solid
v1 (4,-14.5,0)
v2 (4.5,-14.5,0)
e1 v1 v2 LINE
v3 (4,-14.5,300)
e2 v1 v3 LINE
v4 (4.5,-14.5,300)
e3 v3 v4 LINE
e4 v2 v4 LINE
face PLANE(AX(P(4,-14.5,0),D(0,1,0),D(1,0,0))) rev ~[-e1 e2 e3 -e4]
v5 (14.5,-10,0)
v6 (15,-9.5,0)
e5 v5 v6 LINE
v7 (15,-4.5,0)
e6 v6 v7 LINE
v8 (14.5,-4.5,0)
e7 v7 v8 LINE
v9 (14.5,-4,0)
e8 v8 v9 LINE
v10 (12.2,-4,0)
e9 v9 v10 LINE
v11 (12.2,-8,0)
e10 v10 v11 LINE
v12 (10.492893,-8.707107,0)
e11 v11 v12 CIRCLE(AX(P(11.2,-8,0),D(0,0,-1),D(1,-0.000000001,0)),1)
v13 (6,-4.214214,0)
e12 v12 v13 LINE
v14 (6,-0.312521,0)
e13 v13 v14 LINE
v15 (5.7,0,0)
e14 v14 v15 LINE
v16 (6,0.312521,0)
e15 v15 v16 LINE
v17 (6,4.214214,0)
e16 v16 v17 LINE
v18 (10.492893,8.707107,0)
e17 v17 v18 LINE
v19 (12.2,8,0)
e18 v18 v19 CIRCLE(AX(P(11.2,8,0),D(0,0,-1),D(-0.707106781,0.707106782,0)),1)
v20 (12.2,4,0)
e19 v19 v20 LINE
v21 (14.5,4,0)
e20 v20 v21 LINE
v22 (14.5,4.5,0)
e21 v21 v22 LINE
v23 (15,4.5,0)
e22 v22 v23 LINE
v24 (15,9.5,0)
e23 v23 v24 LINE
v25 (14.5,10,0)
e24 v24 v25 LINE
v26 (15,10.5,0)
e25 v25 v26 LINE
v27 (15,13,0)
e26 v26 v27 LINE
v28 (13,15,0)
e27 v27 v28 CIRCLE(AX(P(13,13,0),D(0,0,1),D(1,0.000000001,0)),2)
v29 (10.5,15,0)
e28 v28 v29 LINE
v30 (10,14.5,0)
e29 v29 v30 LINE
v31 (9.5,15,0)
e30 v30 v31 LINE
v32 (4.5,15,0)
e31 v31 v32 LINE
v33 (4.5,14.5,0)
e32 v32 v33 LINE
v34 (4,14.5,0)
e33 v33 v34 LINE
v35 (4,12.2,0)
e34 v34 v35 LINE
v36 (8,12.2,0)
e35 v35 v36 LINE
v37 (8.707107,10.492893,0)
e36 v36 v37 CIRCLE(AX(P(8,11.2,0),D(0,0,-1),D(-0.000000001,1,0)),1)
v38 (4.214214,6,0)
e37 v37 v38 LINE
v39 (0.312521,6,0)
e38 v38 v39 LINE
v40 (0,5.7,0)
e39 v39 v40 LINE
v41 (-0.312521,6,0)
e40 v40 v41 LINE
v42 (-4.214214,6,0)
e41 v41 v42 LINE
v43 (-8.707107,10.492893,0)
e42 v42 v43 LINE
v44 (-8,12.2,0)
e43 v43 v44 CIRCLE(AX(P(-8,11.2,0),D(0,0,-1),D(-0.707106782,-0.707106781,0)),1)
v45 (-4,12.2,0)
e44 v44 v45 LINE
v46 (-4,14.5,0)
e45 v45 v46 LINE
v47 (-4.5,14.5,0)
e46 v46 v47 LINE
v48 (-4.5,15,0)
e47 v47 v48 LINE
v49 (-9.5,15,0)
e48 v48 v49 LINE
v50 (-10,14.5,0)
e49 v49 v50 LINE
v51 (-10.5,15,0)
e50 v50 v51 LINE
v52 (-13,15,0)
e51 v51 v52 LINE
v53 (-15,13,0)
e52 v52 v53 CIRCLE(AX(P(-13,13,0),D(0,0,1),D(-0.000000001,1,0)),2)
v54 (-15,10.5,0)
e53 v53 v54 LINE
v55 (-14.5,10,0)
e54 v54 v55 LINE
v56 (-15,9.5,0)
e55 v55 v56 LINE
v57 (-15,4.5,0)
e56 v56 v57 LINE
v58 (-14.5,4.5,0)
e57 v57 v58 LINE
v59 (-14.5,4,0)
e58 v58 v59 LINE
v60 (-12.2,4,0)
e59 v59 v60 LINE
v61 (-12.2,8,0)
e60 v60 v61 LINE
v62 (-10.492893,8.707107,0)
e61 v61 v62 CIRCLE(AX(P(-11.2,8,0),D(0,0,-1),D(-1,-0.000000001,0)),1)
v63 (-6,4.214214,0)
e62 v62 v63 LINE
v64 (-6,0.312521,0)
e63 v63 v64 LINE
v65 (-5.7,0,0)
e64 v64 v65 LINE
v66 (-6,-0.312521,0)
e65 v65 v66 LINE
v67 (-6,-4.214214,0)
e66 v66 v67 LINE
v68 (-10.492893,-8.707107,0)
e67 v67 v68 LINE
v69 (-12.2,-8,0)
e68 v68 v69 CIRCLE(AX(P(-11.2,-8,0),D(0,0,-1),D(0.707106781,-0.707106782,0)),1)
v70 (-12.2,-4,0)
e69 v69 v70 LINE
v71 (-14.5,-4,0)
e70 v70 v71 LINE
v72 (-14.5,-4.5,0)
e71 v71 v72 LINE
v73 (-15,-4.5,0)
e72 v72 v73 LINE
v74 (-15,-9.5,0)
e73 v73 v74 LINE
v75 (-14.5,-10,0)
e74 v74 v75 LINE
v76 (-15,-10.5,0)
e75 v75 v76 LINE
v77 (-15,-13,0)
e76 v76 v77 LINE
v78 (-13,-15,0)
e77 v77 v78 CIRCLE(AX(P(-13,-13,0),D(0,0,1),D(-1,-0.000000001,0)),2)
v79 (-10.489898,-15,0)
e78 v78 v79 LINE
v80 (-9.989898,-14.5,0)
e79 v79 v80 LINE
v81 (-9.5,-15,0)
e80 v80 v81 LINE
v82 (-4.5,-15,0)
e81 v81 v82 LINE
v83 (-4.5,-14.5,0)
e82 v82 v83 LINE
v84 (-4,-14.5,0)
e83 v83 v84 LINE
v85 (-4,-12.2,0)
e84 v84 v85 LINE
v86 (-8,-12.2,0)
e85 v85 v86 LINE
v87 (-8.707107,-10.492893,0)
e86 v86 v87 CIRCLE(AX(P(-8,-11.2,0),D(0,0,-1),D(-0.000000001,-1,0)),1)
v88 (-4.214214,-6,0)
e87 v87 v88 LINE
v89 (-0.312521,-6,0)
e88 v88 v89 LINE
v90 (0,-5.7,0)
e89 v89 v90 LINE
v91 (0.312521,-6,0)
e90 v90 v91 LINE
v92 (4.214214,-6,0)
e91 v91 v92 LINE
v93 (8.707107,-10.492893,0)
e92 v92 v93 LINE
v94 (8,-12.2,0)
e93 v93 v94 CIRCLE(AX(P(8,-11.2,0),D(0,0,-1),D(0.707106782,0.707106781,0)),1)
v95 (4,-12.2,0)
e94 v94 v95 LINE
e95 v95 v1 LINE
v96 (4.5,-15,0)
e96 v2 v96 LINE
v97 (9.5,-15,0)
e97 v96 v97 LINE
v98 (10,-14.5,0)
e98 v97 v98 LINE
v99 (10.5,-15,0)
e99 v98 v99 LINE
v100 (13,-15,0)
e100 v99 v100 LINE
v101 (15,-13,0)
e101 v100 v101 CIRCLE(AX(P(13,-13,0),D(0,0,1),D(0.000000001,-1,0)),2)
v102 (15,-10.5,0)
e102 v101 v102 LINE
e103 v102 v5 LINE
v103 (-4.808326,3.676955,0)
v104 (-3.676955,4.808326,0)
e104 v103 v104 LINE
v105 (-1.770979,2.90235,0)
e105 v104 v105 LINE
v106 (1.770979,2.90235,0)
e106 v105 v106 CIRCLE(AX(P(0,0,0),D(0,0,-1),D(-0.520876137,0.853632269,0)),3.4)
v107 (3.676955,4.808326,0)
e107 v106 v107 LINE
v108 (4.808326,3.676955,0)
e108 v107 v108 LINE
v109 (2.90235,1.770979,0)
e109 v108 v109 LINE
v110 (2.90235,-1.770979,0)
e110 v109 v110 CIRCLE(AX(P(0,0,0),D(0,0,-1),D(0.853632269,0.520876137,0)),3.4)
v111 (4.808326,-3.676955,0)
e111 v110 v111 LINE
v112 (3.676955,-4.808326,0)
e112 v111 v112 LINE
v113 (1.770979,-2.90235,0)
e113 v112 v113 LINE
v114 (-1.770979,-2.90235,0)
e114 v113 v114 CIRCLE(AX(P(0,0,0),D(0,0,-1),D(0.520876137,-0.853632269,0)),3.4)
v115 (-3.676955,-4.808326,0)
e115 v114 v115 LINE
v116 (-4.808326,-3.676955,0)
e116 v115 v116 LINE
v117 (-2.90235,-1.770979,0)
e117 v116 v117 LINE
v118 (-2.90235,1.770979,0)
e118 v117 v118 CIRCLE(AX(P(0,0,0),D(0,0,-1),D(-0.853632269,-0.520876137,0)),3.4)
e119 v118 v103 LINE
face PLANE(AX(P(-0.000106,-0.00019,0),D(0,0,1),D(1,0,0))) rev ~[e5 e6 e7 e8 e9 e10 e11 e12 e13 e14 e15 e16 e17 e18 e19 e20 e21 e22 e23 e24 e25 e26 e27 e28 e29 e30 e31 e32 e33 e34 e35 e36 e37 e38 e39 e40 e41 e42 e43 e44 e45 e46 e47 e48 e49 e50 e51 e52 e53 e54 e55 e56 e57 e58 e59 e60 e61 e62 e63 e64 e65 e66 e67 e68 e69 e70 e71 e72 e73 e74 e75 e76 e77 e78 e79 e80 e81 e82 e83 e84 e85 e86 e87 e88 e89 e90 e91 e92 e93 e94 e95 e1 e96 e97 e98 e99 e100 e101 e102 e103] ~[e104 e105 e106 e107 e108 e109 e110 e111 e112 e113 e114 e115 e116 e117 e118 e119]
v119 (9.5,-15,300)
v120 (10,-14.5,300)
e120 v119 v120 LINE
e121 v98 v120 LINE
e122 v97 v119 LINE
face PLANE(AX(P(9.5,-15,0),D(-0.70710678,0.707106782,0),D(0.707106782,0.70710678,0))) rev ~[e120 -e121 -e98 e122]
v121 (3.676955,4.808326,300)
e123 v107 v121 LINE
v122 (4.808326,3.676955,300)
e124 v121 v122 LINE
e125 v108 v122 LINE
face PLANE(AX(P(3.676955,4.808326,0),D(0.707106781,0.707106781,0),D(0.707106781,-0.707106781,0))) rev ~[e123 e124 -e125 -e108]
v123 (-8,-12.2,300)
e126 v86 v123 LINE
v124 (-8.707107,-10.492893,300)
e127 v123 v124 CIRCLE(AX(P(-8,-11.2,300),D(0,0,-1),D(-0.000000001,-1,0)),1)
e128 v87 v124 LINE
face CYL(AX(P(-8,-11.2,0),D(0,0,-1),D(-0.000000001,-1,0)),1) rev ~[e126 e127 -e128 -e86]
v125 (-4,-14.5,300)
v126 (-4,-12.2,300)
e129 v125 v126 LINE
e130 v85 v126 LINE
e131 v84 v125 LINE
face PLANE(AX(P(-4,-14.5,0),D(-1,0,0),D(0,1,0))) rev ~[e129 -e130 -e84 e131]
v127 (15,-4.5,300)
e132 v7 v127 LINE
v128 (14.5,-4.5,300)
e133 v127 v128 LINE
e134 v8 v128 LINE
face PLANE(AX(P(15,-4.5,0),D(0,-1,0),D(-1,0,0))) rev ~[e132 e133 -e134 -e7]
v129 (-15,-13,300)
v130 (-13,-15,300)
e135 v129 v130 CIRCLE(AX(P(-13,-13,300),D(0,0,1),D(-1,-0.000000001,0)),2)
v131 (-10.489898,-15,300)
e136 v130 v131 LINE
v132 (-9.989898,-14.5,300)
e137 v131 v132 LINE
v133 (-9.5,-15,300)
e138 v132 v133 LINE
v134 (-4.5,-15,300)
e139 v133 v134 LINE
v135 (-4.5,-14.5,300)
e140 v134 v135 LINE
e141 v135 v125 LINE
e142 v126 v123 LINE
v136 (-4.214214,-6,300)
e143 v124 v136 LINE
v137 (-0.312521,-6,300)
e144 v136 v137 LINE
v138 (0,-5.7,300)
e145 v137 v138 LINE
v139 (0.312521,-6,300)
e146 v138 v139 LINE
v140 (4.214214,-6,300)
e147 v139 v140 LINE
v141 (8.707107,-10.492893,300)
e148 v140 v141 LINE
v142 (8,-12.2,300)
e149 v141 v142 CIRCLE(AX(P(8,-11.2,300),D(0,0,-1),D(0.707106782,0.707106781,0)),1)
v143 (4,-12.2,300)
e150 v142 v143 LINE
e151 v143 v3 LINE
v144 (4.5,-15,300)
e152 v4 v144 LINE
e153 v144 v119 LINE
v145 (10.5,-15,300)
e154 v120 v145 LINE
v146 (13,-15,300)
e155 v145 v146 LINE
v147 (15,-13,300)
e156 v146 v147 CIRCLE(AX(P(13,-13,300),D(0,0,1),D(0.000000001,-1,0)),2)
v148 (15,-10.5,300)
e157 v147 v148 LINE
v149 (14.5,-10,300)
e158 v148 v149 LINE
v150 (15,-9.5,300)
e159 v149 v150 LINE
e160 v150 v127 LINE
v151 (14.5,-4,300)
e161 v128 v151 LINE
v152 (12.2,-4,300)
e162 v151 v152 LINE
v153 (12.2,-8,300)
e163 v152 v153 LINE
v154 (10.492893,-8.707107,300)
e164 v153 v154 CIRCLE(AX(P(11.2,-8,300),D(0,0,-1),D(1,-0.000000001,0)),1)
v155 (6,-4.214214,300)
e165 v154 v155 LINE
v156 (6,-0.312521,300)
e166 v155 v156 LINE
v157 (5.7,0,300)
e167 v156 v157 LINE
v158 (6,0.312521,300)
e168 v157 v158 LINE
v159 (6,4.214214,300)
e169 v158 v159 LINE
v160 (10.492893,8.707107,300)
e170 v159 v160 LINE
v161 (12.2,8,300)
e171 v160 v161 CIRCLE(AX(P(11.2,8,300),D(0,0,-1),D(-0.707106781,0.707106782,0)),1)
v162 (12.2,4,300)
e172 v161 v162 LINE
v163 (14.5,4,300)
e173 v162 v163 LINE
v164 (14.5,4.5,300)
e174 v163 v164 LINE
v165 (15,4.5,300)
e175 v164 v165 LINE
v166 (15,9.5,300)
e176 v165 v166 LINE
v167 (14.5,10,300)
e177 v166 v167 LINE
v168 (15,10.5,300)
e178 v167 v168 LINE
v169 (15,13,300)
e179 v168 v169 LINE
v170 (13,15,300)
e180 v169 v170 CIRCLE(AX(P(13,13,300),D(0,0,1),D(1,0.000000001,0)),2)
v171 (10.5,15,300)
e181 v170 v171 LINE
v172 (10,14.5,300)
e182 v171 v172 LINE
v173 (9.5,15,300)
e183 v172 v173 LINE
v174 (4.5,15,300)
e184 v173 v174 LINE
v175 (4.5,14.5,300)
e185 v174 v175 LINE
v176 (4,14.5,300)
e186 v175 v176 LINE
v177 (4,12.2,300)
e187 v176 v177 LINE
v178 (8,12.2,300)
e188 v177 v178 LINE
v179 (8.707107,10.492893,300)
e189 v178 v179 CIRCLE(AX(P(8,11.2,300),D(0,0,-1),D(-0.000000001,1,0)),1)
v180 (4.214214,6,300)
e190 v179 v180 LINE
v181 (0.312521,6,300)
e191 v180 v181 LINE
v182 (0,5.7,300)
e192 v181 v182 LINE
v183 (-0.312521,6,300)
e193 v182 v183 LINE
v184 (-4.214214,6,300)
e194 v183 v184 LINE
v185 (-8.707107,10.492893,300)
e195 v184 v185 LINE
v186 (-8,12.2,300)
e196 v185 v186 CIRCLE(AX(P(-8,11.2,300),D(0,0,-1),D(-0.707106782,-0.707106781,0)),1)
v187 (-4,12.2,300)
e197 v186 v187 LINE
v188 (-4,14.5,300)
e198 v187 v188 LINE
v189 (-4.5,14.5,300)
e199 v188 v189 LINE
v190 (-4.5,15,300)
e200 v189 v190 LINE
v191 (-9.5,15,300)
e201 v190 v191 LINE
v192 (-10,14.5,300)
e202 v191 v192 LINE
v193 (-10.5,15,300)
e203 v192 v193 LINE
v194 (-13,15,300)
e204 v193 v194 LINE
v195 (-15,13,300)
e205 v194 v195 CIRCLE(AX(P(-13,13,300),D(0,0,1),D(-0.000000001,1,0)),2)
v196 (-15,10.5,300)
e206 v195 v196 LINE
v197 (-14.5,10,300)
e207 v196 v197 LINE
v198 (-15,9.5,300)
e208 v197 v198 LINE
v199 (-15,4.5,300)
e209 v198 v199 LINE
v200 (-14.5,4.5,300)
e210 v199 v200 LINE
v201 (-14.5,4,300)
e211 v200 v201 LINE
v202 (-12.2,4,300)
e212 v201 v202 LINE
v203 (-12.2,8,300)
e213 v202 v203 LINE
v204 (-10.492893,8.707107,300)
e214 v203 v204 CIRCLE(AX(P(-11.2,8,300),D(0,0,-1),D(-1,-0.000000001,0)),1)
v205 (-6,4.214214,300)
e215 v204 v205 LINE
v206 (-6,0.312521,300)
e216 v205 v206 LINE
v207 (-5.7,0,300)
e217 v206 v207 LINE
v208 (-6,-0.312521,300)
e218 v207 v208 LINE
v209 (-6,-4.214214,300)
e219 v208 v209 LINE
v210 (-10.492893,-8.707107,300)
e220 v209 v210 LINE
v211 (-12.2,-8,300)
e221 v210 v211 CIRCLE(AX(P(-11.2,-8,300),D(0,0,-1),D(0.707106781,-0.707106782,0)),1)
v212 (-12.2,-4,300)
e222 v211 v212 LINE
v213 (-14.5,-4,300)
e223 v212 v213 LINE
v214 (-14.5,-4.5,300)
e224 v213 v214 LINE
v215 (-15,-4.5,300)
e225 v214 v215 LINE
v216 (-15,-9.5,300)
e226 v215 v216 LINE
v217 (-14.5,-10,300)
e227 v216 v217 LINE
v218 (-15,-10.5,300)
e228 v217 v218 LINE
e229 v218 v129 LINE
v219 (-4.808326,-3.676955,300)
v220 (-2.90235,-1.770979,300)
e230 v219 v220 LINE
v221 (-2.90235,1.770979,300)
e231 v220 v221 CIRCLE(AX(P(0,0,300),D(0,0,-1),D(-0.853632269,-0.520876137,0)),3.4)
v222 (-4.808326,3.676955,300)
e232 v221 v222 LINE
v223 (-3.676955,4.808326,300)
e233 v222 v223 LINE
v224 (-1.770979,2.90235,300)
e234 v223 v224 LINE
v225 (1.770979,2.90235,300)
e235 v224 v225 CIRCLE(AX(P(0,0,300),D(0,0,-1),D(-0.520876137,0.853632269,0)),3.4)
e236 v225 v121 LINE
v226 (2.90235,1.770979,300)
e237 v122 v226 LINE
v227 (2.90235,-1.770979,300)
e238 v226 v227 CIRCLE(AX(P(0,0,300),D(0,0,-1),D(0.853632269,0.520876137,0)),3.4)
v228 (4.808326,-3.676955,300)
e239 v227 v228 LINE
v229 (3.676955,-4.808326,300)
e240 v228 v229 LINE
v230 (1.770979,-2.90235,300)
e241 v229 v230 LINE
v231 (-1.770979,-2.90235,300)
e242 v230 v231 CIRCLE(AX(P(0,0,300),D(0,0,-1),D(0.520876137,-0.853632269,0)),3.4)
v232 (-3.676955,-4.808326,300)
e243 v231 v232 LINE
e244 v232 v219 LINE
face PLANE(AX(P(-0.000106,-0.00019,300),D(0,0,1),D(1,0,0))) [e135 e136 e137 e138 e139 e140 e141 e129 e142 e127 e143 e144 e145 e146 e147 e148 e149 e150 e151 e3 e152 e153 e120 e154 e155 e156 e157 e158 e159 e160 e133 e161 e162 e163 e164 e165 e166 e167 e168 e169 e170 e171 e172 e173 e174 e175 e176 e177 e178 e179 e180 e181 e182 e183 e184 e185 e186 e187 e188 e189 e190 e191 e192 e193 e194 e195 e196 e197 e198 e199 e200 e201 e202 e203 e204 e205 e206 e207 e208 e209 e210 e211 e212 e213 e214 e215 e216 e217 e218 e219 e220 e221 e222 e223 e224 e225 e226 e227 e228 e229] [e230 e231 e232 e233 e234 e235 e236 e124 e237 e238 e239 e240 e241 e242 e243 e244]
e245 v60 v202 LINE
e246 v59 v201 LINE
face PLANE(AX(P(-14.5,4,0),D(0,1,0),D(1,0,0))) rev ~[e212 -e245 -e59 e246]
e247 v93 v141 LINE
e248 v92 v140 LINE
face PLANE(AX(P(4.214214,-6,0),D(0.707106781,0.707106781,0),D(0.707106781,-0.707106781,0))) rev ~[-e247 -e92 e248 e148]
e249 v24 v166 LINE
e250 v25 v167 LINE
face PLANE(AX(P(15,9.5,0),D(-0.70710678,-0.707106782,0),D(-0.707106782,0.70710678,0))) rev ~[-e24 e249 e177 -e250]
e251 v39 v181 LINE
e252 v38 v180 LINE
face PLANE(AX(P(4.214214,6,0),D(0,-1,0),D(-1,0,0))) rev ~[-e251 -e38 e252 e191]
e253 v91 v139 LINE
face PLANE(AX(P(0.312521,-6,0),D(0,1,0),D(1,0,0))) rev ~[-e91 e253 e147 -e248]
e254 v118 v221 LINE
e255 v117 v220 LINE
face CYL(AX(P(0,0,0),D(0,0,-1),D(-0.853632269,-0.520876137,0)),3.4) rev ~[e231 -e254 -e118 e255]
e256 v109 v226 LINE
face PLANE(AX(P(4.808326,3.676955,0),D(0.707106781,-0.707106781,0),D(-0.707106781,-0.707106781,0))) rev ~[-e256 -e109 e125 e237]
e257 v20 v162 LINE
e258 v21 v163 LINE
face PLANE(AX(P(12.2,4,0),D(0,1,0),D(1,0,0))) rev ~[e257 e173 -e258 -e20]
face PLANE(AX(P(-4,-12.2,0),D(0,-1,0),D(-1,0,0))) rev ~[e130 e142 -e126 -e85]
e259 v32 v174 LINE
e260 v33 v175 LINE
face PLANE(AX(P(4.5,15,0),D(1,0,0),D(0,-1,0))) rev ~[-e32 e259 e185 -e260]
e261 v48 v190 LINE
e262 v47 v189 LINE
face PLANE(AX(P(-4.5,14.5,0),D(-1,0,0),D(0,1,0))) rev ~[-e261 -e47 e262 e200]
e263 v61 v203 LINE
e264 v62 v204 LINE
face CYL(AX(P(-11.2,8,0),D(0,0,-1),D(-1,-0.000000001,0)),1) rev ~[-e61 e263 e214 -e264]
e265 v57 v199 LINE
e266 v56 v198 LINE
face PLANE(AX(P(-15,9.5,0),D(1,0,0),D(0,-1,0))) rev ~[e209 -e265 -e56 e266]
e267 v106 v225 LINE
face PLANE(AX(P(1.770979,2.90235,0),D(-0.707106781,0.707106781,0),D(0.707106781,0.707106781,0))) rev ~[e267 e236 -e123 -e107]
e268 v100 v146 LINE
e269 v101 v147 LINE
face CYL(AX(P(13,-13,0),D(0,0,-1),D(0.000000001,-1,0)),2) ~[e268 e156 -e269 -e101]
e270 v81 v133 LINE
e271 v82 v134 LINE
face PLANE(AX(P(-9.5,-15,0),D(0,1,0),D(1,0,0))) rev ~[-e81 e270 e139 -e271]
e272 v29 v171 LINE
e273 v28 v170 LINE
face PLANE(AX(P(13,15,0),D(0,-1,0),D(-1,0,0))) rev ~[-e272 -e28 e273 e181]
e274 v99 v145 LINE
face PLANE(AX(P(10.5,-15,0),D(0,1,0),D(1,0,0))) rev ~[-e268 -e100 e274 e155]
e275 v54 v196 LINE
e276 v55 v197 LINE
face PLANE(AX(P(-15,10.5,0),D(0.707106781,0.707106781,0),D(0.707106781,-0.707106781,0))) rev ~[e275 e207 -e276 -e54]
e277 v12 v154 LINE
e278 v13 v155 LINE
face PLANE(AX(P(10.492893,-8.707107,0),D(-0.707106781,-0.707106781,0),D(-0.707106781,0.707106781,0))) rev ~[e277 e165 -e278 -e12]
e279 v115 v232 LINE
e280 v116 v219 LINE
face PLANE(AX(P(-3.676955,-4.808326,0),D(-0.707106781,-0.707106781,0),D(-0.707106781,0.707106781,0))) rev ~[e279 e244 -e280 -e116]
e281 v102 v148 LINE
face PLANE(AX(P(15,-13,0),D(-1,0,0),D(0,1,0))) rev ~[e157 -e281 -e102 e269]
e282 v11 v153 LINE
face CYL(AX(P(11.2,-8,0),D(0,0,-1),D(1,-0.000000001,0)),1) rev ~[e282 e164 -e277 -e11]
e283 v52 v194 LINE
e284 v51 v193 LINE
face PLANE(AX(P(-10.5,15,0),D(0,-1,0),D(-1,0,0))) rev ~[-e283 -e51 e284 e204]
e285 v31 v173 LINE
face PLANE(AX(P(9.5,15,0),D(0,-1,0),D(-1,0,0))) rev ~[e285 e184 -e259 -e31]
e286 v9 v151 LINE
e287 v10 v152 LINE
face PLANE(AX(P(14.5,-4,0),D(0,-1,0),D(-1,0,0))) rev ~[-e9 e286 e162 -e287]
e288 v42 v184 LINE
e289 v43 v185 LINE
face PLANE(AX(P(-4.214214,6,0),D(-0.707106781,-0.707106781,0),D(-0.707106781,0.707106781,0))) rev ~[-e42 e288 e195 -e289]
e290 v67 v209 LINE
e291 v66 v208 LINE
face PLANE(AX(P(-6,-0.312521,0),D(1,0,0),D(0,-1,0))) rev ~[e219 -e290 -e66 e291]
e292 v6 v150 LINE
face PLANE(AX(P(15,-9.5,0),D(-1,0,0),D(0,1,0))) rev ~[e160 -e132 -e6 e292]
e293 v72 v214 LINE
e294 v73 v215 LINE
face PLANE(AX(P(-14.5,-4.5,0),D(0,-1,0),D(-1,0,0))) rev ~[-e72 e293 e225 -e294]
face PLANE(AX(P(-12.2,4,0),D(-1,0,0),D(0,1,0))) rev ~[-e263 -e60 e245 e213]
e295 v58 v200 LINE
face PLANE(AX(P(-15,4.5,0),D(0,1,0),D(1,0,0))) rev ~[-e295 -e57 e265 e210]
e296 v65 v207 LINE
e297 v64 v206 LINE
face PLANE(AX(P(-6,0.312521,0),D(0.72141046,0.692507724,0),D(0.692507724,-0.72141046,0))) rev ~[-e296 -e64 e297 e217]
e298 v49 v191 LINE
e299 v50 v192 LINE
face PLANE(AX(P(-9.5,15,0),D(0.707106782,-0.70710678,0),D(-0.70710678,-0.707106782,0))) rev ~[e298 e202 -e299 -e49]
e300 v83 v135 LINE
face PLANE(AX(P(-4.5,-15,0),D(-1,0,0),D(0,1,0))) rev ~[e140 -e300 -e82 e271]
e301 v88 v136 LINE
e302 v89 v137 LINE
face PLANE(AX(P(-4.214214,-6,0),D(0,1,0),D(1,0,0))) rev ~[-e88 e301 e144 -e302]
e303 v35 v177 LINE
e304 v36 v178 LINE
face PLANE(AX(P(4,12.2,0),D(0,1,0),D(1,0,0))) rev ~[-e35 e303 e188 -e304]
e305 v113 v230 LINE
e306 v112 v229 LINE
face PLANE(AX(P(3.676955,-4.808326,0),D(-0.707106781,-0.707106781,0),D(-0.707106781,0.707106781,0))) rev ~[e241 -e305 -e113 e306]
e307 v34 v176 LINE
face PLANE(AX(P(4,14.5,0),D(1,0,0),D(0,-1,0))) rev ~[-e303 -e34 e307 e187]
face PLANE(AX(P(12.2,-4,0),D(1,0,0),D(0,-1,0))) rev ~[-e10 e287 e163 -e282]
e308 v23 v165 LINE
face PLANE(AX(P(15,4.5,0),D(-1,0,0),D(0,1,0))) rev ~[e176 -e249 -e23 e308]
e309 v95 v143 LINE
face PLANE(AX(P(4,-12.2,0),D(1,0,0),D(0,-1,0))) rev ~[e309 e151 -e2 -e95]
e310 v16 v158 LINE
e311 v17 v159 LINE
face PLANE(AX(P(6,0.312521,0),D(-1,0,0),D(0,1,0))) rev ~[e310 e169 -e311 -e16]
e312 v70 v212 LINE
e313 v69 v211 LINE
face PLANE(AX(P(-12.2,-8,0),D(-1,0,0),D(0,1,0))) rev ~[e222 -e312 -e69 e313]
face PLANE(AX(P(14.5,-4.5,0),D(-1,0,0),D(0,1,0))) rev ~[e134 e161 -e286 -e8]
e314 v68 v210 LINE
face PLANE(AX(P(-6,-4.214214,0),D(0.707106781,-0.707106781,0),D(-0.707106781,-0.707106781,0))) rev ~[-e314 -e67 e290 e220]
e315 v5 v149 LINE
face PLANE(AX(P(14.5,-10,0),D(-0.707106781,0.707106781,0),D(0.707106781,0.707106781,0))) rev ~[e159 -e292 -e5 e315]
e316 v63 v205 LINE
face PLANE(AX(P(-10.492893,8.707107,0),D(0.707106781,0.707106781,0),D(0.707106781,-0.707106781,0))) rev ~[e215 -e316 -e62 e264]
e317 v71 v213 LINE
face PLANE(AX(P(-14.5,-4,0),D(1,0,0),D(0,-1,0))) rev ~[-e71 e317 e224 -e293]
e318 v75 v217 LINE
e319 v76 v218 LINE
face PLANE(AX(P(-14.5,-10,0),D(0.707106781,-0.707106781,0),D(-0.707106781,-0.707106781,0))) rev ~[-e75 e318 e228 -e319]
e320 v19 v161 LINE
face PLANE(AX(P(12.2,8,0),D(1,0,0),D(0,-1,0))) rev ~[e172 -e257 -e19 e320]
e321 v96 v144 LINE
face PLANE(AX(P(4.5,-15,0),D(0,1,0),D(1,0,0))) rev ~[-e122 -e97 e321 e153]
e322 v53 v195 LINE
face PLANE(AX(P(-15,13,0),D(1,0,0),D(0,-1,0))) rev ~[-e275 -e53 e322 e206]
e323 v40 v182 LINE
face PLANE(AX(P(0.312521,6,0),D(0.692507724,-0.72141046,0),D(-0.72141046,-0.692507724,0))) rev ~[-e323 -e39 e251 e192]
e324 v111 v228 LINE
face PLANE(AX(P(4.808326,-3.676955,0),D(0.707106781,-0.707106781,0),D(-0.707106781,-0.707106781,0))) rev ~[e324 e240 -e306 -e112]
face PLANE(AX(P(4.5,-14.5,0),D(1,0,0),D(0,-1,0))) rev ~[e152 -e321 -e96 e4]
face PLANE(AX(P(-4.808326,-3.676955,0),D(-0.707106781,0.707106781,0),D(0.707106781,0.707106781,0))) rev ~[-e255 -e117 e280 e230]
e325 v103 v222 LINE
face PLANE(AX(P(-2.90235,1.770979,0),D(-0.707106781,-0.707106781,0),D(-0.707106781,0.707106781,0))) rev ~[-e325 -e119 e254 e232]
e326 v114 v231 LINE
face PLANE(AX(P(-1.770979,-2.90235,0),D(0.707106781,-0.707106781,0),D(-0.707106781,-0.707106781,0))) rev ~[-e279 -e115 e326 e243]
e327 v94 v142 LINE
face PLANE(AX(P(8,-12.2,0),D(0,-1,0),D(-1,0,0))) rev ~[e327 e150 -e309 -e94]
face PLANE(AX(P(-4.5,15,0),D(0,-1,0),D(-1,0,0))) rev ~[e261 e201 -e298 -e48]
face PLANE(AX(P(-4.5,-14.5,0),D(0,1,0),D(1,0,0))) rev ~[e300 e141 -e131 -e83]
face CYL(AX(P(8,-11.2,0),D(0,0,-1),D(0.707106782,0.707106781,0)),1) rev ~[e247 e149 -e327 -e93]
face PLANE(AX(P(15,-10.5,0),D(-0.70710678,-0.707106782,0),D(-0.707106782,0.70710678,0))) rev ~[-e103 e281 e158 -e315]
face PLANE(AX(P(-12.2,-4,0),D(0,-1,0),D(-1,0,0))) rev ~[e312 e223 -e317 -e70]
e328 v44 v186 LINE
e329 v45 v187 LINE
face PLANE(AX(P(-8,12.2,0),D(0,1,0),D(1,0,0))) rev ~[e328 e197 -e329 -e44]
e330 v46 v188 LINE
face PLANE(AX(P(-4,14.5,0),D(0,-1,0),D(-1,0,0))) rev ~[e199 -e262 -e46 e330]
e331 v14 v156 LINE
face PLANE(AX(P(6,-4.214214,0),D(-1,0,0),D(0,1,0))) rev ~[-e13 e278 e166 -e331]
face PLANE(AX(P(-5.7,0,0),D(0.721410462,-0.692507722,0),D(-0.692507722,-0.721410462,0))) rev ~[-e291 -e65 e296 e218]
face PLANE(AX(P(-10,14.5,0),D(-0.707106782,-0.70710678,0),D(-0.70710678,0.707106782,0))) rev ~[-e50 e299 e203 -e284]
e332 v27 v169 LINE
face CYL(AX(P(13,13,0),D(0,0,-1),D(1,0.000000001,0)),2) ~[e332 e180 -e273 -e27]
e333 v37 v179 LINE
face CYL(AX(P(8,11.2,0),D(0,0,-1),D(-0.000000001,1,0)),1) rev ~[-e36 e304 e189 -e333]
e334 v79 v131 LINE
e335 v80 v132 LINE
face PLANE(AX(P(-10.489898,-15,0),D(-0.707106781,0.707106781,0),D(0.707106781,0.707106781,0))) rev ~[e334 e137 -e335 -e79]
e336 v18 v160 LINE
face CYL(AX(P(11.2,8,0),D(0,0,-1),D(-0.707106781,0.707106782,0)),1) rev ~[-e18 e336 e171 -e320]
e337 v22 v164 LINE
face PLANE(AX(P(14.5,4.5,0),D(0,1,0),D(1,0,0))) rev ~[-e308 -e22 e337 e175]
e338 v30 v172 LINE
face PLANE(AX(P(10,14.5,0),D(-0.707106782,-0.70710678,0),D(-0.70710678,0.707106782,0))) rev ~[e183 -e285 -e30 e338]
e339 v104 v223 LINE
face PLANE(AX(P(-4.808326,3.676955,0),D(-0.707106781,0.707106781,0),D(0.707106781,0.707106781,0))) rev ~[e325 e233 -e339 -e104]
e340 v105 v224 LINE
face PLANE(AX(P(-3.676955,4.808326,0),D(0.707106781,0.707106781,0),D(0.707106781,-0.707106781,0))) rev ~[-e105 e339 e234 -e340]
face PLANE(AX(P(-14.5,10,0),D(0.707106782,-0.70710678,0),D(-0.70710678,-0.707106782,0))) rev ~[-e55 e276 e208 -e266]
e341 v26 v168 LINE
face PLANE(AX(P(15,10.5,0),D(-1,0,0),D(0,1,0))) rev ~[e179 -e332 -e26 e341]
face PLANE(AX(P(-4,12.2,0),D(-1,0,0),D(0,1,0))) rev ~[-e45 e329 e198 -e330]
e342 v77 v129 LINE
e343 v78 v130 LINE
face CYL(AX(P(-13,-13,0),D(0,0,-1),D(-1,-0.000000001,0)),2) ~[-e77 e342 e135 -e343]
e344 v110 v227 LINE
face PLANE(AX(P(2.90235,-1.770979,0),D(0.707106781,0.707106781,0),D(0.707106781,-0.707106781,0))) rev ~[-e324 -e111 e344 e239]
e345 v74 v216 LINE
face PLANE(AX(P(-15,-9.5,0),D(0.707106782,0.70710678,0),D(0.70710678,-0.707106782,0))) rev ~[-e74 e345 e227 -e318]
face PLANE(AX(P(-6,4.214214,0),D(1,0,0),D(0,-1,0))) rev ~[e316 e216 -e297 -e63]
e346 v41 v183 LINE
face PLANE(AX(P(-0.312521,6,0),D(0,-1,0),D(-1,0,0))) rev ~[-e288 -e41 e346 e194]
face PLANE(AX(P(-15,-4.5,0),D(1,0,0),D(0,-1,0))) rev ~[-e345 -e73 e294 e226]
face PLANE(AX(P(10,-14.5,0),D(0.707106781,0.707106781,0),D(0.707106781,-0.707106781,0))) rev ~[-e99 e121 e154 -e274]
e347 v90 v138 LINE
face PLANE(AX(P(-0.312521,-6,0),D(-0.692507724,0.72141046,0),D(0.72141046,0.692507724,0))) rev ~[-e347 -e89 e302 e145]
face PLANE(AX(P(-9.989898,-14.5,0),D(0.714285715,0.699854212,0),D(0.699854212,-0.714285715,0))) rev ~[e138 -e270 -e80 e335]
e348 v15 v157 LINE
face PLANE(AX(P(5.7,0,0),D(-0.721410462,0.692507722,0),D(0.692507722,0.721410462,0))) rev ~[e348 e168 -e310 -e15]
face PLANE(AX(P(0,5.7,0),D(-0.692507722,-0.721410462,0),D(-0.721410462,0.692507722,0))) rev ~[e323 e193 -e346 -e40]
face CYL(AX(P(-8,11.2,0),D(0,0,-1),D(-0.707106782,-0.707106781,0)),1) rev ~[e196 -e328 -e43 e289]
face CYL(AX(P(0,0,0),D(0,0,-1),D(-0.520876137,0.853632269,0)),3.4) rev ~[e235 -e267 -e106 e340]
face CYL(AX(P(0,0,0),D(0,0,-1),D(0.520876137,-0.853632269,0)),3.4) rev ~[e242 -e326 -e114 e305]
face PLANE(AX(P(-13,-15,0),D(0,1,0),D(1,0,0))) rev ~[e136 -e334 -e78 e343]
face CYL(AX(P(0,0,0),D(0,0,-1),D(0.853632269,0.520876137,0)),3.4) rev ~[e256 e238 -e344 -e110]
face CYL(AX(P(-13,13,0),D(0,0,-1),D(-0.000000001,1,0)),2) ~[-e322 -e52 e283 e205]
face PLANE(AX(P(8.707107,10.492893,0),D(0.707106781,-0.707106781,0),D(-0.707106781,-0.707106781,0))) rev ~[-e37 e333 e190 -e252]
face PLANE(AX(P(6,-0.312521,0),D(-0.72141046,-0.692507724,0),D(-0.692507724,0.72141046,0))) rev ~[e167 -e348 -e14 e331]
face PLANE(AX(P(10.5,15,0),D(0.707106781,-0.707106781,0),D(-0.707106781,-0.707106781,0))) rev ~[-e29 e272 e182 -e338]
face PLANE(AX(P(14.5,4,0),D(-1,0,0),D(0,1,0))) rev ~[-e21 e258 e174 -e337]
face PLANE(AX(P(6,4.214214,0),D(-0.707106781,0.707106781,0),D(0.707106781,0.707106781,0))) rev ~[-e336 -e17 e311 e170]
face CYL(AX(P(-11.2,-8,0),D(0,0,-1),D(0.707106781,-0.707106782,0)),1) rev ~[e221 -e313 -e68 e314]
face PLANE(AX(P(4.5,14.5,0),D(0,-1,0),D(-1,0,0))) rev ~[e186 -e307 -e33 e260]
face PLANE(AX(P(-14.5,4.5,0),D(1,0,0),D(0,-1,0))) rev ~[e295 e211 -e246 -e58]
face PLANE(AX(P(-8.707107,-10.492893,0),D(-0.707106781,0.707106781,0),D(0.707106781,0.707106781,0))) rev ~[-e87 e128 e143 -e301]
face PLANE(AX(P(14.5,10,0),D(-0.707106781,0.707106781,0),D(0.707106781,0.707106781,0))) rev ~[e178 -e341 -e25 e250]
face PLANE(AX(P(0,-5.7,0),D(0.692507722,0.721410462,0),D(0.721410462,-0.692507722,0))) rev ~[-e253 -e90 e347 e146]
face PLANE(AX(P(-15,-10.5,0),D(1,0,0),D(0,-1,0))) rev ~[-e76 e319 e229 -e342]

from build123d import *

# Parameters (mm, degrees)
BOSS_EXTRUDE1_DEPTH = 300


with BuildPart() as part:
    # Sketch1 → Boss-Extrude1 (new body)
    with BuildSketch(Plane.XY):
        with BuildLine():
            Line((12.999999999, 14.999999999), (10.499999999, 14.999999999))
            Line((10.499999999, 14.999999999), (9.999999999, 14.499999999))
            Line((9.999999999, 14.499999999), (9.5, 14.999999999))
            Line((9.5, 14.999999999), (4.5, 14.999999999))
            Line((4.5, 14.999999999), (4.5, 14.5))
            Line((4.5, 14.5), (4, 14.5))
            Line((4, 14.5), (4, 12.200000005))
            Line((4, 12.200000005), (7.999999994, 12.200000005))
            ThreePointArc((7.999999994, 12.200000005), (8.923879532, 11.582683434), (8.707106779, 10.492893215))
            Line((8.707106779, 10.492893215), (4.214213564, 6))
            Line((4.214213564, 6), (0.312520901, 6))
            Line((0.312520901, 6), (0, 5.7))
            Line((0, 5.7), (-0.312520903, 6))
            Line((-0.312520903, 6), (-4.214213564, 6))
            Line((-4.214213564, 6), (-8.70710678, 10.492893215))
            ThreePointArc((-8.70710678, 10.492893215), (-8.923879532, 11.582683434), (-7.999999995, 12.200000005))
            Line((-7.999999995, 12.200000005), (-4, 12.200000005))
            Line((-4, 12.200000005), (-4, 14.5))
            Line((-4, 14.5), (-4.5, 14.5))
            Line((-4.5, 14.5), (-4.5, 14.999999999))
            Line((-4.5, 14.999999999), (-9.500000003, 14.999999999))
            Line((-9.500000003, 14.999999999), (-10.000000002, 14.499999999))
            Line((-10.000000002, 14.499999999), (-10.500000001, 14.999999999))
            Line((-10.500000001, 14.999999999), (-13, 14.999999999))
            ThreePointArc((-13, 14.999999999), (-14.414213562, 14.414213561), (-15, 12.999999999))
            Line((-15, 12.999999999), (-15, 10.5))
            Line((-15, 10.5), (-14.500000001, 10.000000001))
            Line((-14.500000001, 10.000000001), (-15, 9.500000001))
            Line((-15, 9.500000001), (-15, 4.5))
            Line((-15, 4.5), (-14.5, 4.5))
            Line((-14.5, 4.5), (-14.5, 4))
            Line((-14.5, 4), (-12.200000005, 4))
            Line((-12.200000005, 4), (-12.200000005, 7.999999994))
            ThreePointArc((-12.200000005, 7.999999994), (-11.582683434, 8.923879532), (-10.492893215, 8.707106779))
            Line((-10.492893215, 8.707106779), (-6, 4.214213564))
            Line((-6, 4.214213564), (-6, 0.312520901))
            Line((-6, 0.312520901), (-5.7, 0))
            Line((-5.7, 0), (-6, -0.312520903))
            Line((-6, -0.312520903), (-6, -4.214213564))
            Line((-6, -4.214213564), (-10.492893215, -8.70710678))
            ThreePointArc((-10.492893215, -8.70710678), (-11.582683434, -8.923879532), (-12.200000005, -7.999999995))
            Line((-12.200000005, -7.999999995), (-12.200000005, -4))
            Line((-12.200000005, -4), (-14.5, -4))
            Line((-14.5, -4), (-14.5, -4.5))
            Line((-14.5, -4.5), (-15, -4.5))
            Line((-15, -4.5), (-15, -9.500000001))
            Line((-15, -9.500000001), (-14.500000001, -10.000000001))
            Line((-14.500000001, -10.000000001), (-15, -10.5))
            Line((-15, -10.5), (-15, -13))
            ThreePointArc((-15, -13), (-14.414213562, -14.414213562), (-13, -15))
            Line((-13, -15), (-10.489897949, -15))
            Line((-10.489897949, -15), (-9.989897949, -14.5))
            Line((-9.989897949, -14.5), (-9.500000001, -15))
            Line((-9.500000001, -15), (-4.5, -15))
            Line((-4.5, -15), (-4.5, -14.5))
            Line((-4.5, -14.5), (-4, -14.5))
            Line((-4, -14.5), (-4, -12.200000005))
            Line((-4, -12.200000005), (-7.999999995, -12.200000005))
            ThreePointArc((-7.999999995, -12.200000005), (-8.923879532, -11.582683434), (-8.70710678, -10.492893215))
            Line((-8.70710678, -10.492893215), (-4.214213564, -6))
            Line((-4.214213564, -6), (-0.312520901, -6))
            Line((-0.312520901, -6), (0, -5.7))
            Line((0, -5.7), (0.312520903, -6))
            Line((0.312520903, -6), (4.214213564, -6))
            Line((4.214213564, -6), (8.70710678, -10.492893215))
            ThreePointArc((8.70710678, -10.492893215), (8.923879532, -11.582683434), (7.999999995, -12.200000005))
            Line((7.999999995, -12.200000005), (4, -12.200000005))
            Line((4, -12.200000005), (4, -14.5))
            Line((4, -14.5), (4.5, -14.5))
            Line((4.5, -14.5), (4.5, -15))
            Line((4.5, -15), (9.500000001, -15))
            Line((9.500000001, -15), (10.000000001, -14.500000001))
            Line((10.000000001, -14.500000001), (10.5, -15))
            Line((10.5, -15), (12.999999999, -15))
            ThreePointArc((12.999999999, -15), (14.414213561, -14.414213562), (14.999999999, -13))
            Line((14.999999999, -13), (14.999999999, -10.500000001))
            Line((14.999999999, -10.500000001), (14.499999999, -10.000000002))
            Line((14.499999999, -10.000000002), (14.999999999, -9.500000002))
            Line((14.999999999, -9.500000002), (14.999999999, -4.5))
            Line((14.999999999, -4.5), (14.5, -4.5))
            Line((14.5, -4.5), (14.5, -4))
            Line((14.5, -4), (12.200000005, -4))
            Line((12.200000005, -4), (12.200000005, -7.999999995))
            ThreePointArc((12.200000005, -7.999999995), (11.582683434, -8.923879532), (10.492893215, -8.70710678))
            Line((10.492893215, -8.70710678), (6, -4.214213564))
            Line((6, -4.214213564), (6, -0.312520901))
            Line((6, -0.312520901), (5.7, 0))
            Line((5.7, 0), (6, 0.312520903))
            Line((6, 0.312520903), (6, 4.214213564))
            Line((6, 4.214213564), (10.492893215, 8.70710678))
            ThreePointArc((10.492893215, 8.70710678), (11.582683434, 8.923879532), (12.200000005, 7.999999995))
            Line((12.200000005, 7.999999995), (12.200000005, 4))
            Line((12.200000005, 4), (14.5, 4))
            Line((14.5, 4), (14.5, 4.5))
            Line((14.5, 4.5), (14.999999999, 4.5))
            Line((14.999999999, 4.5), (14.999999999, 9.5))
            Line((14.999999999, 9.5), (14.499999999, 9.999999999))
            Line((14.499999999, 9.999999999), (14.999999999, 10.499999999))
            Line((14.999999999, 10.499999999), (14.999999999, 12.999999999))
            ThreePointArc((14.999999999, 12.999999999), (14.414213561, 14.414213561), (12.999999999, 14.999999999))
        make_face()
        with BuildLine():
            Line((-2.902349714, 1.770978864), (-4.808326112, 3.676955262))
            Line((-4.808326112, 3.676955262), (-3.676955262, 4.808326112))
            Line((-3.676955262, 4.808326112), (-1.770978864, 2.902349714))
            ThreePointArc((-1.770978864, 2.902349714), (0, 3.4), (1.770978864, 2.902349714))
            Line((1.770978864, 2.902349714), (3.676955262, 4.808326112))
            Line((3.676955262, 4.808326112), (4.808326112, 3.676955262))
            Line((4.808326112, 3.676955262), (2.902349714, 1.770978864))
            ThreePointArc((2.902349714, 1.770978864), (3.4, 0), (2.902349714, -1.770978864))
            Line((2.902349714, -1.770978864), (4.808326112, -3.676955262))
            Line((4.808326112, -3.676955262), (3.676955262, -4.808326112))
            Line((3.676955262, -4.808326112), (1.770978864, -2.902349714))
            ThreePointArc((1.770978864, -2.902349714), (0, -3.4), (-1.770978864, -2.902349714))
            Line((-1.770978864, -2.902349714), (-3.676955262, -4.808326112))
            Line((-3.676955262, -4.808326112), (-4.808326112, -3.676955262))
            Line((-4.808326112, -3.676955262), (-2.902349714, -1.770978864))
            ThreePointArc((-2.902349714, -1.770978864), (-3.4, 0), (-2.902349714, 1.770978864))
        make_face(mode=Mode.SUBTRACT)
    extrude(amount=BOSS_EXTRUDE1_DEPTH)


solid = part.part
